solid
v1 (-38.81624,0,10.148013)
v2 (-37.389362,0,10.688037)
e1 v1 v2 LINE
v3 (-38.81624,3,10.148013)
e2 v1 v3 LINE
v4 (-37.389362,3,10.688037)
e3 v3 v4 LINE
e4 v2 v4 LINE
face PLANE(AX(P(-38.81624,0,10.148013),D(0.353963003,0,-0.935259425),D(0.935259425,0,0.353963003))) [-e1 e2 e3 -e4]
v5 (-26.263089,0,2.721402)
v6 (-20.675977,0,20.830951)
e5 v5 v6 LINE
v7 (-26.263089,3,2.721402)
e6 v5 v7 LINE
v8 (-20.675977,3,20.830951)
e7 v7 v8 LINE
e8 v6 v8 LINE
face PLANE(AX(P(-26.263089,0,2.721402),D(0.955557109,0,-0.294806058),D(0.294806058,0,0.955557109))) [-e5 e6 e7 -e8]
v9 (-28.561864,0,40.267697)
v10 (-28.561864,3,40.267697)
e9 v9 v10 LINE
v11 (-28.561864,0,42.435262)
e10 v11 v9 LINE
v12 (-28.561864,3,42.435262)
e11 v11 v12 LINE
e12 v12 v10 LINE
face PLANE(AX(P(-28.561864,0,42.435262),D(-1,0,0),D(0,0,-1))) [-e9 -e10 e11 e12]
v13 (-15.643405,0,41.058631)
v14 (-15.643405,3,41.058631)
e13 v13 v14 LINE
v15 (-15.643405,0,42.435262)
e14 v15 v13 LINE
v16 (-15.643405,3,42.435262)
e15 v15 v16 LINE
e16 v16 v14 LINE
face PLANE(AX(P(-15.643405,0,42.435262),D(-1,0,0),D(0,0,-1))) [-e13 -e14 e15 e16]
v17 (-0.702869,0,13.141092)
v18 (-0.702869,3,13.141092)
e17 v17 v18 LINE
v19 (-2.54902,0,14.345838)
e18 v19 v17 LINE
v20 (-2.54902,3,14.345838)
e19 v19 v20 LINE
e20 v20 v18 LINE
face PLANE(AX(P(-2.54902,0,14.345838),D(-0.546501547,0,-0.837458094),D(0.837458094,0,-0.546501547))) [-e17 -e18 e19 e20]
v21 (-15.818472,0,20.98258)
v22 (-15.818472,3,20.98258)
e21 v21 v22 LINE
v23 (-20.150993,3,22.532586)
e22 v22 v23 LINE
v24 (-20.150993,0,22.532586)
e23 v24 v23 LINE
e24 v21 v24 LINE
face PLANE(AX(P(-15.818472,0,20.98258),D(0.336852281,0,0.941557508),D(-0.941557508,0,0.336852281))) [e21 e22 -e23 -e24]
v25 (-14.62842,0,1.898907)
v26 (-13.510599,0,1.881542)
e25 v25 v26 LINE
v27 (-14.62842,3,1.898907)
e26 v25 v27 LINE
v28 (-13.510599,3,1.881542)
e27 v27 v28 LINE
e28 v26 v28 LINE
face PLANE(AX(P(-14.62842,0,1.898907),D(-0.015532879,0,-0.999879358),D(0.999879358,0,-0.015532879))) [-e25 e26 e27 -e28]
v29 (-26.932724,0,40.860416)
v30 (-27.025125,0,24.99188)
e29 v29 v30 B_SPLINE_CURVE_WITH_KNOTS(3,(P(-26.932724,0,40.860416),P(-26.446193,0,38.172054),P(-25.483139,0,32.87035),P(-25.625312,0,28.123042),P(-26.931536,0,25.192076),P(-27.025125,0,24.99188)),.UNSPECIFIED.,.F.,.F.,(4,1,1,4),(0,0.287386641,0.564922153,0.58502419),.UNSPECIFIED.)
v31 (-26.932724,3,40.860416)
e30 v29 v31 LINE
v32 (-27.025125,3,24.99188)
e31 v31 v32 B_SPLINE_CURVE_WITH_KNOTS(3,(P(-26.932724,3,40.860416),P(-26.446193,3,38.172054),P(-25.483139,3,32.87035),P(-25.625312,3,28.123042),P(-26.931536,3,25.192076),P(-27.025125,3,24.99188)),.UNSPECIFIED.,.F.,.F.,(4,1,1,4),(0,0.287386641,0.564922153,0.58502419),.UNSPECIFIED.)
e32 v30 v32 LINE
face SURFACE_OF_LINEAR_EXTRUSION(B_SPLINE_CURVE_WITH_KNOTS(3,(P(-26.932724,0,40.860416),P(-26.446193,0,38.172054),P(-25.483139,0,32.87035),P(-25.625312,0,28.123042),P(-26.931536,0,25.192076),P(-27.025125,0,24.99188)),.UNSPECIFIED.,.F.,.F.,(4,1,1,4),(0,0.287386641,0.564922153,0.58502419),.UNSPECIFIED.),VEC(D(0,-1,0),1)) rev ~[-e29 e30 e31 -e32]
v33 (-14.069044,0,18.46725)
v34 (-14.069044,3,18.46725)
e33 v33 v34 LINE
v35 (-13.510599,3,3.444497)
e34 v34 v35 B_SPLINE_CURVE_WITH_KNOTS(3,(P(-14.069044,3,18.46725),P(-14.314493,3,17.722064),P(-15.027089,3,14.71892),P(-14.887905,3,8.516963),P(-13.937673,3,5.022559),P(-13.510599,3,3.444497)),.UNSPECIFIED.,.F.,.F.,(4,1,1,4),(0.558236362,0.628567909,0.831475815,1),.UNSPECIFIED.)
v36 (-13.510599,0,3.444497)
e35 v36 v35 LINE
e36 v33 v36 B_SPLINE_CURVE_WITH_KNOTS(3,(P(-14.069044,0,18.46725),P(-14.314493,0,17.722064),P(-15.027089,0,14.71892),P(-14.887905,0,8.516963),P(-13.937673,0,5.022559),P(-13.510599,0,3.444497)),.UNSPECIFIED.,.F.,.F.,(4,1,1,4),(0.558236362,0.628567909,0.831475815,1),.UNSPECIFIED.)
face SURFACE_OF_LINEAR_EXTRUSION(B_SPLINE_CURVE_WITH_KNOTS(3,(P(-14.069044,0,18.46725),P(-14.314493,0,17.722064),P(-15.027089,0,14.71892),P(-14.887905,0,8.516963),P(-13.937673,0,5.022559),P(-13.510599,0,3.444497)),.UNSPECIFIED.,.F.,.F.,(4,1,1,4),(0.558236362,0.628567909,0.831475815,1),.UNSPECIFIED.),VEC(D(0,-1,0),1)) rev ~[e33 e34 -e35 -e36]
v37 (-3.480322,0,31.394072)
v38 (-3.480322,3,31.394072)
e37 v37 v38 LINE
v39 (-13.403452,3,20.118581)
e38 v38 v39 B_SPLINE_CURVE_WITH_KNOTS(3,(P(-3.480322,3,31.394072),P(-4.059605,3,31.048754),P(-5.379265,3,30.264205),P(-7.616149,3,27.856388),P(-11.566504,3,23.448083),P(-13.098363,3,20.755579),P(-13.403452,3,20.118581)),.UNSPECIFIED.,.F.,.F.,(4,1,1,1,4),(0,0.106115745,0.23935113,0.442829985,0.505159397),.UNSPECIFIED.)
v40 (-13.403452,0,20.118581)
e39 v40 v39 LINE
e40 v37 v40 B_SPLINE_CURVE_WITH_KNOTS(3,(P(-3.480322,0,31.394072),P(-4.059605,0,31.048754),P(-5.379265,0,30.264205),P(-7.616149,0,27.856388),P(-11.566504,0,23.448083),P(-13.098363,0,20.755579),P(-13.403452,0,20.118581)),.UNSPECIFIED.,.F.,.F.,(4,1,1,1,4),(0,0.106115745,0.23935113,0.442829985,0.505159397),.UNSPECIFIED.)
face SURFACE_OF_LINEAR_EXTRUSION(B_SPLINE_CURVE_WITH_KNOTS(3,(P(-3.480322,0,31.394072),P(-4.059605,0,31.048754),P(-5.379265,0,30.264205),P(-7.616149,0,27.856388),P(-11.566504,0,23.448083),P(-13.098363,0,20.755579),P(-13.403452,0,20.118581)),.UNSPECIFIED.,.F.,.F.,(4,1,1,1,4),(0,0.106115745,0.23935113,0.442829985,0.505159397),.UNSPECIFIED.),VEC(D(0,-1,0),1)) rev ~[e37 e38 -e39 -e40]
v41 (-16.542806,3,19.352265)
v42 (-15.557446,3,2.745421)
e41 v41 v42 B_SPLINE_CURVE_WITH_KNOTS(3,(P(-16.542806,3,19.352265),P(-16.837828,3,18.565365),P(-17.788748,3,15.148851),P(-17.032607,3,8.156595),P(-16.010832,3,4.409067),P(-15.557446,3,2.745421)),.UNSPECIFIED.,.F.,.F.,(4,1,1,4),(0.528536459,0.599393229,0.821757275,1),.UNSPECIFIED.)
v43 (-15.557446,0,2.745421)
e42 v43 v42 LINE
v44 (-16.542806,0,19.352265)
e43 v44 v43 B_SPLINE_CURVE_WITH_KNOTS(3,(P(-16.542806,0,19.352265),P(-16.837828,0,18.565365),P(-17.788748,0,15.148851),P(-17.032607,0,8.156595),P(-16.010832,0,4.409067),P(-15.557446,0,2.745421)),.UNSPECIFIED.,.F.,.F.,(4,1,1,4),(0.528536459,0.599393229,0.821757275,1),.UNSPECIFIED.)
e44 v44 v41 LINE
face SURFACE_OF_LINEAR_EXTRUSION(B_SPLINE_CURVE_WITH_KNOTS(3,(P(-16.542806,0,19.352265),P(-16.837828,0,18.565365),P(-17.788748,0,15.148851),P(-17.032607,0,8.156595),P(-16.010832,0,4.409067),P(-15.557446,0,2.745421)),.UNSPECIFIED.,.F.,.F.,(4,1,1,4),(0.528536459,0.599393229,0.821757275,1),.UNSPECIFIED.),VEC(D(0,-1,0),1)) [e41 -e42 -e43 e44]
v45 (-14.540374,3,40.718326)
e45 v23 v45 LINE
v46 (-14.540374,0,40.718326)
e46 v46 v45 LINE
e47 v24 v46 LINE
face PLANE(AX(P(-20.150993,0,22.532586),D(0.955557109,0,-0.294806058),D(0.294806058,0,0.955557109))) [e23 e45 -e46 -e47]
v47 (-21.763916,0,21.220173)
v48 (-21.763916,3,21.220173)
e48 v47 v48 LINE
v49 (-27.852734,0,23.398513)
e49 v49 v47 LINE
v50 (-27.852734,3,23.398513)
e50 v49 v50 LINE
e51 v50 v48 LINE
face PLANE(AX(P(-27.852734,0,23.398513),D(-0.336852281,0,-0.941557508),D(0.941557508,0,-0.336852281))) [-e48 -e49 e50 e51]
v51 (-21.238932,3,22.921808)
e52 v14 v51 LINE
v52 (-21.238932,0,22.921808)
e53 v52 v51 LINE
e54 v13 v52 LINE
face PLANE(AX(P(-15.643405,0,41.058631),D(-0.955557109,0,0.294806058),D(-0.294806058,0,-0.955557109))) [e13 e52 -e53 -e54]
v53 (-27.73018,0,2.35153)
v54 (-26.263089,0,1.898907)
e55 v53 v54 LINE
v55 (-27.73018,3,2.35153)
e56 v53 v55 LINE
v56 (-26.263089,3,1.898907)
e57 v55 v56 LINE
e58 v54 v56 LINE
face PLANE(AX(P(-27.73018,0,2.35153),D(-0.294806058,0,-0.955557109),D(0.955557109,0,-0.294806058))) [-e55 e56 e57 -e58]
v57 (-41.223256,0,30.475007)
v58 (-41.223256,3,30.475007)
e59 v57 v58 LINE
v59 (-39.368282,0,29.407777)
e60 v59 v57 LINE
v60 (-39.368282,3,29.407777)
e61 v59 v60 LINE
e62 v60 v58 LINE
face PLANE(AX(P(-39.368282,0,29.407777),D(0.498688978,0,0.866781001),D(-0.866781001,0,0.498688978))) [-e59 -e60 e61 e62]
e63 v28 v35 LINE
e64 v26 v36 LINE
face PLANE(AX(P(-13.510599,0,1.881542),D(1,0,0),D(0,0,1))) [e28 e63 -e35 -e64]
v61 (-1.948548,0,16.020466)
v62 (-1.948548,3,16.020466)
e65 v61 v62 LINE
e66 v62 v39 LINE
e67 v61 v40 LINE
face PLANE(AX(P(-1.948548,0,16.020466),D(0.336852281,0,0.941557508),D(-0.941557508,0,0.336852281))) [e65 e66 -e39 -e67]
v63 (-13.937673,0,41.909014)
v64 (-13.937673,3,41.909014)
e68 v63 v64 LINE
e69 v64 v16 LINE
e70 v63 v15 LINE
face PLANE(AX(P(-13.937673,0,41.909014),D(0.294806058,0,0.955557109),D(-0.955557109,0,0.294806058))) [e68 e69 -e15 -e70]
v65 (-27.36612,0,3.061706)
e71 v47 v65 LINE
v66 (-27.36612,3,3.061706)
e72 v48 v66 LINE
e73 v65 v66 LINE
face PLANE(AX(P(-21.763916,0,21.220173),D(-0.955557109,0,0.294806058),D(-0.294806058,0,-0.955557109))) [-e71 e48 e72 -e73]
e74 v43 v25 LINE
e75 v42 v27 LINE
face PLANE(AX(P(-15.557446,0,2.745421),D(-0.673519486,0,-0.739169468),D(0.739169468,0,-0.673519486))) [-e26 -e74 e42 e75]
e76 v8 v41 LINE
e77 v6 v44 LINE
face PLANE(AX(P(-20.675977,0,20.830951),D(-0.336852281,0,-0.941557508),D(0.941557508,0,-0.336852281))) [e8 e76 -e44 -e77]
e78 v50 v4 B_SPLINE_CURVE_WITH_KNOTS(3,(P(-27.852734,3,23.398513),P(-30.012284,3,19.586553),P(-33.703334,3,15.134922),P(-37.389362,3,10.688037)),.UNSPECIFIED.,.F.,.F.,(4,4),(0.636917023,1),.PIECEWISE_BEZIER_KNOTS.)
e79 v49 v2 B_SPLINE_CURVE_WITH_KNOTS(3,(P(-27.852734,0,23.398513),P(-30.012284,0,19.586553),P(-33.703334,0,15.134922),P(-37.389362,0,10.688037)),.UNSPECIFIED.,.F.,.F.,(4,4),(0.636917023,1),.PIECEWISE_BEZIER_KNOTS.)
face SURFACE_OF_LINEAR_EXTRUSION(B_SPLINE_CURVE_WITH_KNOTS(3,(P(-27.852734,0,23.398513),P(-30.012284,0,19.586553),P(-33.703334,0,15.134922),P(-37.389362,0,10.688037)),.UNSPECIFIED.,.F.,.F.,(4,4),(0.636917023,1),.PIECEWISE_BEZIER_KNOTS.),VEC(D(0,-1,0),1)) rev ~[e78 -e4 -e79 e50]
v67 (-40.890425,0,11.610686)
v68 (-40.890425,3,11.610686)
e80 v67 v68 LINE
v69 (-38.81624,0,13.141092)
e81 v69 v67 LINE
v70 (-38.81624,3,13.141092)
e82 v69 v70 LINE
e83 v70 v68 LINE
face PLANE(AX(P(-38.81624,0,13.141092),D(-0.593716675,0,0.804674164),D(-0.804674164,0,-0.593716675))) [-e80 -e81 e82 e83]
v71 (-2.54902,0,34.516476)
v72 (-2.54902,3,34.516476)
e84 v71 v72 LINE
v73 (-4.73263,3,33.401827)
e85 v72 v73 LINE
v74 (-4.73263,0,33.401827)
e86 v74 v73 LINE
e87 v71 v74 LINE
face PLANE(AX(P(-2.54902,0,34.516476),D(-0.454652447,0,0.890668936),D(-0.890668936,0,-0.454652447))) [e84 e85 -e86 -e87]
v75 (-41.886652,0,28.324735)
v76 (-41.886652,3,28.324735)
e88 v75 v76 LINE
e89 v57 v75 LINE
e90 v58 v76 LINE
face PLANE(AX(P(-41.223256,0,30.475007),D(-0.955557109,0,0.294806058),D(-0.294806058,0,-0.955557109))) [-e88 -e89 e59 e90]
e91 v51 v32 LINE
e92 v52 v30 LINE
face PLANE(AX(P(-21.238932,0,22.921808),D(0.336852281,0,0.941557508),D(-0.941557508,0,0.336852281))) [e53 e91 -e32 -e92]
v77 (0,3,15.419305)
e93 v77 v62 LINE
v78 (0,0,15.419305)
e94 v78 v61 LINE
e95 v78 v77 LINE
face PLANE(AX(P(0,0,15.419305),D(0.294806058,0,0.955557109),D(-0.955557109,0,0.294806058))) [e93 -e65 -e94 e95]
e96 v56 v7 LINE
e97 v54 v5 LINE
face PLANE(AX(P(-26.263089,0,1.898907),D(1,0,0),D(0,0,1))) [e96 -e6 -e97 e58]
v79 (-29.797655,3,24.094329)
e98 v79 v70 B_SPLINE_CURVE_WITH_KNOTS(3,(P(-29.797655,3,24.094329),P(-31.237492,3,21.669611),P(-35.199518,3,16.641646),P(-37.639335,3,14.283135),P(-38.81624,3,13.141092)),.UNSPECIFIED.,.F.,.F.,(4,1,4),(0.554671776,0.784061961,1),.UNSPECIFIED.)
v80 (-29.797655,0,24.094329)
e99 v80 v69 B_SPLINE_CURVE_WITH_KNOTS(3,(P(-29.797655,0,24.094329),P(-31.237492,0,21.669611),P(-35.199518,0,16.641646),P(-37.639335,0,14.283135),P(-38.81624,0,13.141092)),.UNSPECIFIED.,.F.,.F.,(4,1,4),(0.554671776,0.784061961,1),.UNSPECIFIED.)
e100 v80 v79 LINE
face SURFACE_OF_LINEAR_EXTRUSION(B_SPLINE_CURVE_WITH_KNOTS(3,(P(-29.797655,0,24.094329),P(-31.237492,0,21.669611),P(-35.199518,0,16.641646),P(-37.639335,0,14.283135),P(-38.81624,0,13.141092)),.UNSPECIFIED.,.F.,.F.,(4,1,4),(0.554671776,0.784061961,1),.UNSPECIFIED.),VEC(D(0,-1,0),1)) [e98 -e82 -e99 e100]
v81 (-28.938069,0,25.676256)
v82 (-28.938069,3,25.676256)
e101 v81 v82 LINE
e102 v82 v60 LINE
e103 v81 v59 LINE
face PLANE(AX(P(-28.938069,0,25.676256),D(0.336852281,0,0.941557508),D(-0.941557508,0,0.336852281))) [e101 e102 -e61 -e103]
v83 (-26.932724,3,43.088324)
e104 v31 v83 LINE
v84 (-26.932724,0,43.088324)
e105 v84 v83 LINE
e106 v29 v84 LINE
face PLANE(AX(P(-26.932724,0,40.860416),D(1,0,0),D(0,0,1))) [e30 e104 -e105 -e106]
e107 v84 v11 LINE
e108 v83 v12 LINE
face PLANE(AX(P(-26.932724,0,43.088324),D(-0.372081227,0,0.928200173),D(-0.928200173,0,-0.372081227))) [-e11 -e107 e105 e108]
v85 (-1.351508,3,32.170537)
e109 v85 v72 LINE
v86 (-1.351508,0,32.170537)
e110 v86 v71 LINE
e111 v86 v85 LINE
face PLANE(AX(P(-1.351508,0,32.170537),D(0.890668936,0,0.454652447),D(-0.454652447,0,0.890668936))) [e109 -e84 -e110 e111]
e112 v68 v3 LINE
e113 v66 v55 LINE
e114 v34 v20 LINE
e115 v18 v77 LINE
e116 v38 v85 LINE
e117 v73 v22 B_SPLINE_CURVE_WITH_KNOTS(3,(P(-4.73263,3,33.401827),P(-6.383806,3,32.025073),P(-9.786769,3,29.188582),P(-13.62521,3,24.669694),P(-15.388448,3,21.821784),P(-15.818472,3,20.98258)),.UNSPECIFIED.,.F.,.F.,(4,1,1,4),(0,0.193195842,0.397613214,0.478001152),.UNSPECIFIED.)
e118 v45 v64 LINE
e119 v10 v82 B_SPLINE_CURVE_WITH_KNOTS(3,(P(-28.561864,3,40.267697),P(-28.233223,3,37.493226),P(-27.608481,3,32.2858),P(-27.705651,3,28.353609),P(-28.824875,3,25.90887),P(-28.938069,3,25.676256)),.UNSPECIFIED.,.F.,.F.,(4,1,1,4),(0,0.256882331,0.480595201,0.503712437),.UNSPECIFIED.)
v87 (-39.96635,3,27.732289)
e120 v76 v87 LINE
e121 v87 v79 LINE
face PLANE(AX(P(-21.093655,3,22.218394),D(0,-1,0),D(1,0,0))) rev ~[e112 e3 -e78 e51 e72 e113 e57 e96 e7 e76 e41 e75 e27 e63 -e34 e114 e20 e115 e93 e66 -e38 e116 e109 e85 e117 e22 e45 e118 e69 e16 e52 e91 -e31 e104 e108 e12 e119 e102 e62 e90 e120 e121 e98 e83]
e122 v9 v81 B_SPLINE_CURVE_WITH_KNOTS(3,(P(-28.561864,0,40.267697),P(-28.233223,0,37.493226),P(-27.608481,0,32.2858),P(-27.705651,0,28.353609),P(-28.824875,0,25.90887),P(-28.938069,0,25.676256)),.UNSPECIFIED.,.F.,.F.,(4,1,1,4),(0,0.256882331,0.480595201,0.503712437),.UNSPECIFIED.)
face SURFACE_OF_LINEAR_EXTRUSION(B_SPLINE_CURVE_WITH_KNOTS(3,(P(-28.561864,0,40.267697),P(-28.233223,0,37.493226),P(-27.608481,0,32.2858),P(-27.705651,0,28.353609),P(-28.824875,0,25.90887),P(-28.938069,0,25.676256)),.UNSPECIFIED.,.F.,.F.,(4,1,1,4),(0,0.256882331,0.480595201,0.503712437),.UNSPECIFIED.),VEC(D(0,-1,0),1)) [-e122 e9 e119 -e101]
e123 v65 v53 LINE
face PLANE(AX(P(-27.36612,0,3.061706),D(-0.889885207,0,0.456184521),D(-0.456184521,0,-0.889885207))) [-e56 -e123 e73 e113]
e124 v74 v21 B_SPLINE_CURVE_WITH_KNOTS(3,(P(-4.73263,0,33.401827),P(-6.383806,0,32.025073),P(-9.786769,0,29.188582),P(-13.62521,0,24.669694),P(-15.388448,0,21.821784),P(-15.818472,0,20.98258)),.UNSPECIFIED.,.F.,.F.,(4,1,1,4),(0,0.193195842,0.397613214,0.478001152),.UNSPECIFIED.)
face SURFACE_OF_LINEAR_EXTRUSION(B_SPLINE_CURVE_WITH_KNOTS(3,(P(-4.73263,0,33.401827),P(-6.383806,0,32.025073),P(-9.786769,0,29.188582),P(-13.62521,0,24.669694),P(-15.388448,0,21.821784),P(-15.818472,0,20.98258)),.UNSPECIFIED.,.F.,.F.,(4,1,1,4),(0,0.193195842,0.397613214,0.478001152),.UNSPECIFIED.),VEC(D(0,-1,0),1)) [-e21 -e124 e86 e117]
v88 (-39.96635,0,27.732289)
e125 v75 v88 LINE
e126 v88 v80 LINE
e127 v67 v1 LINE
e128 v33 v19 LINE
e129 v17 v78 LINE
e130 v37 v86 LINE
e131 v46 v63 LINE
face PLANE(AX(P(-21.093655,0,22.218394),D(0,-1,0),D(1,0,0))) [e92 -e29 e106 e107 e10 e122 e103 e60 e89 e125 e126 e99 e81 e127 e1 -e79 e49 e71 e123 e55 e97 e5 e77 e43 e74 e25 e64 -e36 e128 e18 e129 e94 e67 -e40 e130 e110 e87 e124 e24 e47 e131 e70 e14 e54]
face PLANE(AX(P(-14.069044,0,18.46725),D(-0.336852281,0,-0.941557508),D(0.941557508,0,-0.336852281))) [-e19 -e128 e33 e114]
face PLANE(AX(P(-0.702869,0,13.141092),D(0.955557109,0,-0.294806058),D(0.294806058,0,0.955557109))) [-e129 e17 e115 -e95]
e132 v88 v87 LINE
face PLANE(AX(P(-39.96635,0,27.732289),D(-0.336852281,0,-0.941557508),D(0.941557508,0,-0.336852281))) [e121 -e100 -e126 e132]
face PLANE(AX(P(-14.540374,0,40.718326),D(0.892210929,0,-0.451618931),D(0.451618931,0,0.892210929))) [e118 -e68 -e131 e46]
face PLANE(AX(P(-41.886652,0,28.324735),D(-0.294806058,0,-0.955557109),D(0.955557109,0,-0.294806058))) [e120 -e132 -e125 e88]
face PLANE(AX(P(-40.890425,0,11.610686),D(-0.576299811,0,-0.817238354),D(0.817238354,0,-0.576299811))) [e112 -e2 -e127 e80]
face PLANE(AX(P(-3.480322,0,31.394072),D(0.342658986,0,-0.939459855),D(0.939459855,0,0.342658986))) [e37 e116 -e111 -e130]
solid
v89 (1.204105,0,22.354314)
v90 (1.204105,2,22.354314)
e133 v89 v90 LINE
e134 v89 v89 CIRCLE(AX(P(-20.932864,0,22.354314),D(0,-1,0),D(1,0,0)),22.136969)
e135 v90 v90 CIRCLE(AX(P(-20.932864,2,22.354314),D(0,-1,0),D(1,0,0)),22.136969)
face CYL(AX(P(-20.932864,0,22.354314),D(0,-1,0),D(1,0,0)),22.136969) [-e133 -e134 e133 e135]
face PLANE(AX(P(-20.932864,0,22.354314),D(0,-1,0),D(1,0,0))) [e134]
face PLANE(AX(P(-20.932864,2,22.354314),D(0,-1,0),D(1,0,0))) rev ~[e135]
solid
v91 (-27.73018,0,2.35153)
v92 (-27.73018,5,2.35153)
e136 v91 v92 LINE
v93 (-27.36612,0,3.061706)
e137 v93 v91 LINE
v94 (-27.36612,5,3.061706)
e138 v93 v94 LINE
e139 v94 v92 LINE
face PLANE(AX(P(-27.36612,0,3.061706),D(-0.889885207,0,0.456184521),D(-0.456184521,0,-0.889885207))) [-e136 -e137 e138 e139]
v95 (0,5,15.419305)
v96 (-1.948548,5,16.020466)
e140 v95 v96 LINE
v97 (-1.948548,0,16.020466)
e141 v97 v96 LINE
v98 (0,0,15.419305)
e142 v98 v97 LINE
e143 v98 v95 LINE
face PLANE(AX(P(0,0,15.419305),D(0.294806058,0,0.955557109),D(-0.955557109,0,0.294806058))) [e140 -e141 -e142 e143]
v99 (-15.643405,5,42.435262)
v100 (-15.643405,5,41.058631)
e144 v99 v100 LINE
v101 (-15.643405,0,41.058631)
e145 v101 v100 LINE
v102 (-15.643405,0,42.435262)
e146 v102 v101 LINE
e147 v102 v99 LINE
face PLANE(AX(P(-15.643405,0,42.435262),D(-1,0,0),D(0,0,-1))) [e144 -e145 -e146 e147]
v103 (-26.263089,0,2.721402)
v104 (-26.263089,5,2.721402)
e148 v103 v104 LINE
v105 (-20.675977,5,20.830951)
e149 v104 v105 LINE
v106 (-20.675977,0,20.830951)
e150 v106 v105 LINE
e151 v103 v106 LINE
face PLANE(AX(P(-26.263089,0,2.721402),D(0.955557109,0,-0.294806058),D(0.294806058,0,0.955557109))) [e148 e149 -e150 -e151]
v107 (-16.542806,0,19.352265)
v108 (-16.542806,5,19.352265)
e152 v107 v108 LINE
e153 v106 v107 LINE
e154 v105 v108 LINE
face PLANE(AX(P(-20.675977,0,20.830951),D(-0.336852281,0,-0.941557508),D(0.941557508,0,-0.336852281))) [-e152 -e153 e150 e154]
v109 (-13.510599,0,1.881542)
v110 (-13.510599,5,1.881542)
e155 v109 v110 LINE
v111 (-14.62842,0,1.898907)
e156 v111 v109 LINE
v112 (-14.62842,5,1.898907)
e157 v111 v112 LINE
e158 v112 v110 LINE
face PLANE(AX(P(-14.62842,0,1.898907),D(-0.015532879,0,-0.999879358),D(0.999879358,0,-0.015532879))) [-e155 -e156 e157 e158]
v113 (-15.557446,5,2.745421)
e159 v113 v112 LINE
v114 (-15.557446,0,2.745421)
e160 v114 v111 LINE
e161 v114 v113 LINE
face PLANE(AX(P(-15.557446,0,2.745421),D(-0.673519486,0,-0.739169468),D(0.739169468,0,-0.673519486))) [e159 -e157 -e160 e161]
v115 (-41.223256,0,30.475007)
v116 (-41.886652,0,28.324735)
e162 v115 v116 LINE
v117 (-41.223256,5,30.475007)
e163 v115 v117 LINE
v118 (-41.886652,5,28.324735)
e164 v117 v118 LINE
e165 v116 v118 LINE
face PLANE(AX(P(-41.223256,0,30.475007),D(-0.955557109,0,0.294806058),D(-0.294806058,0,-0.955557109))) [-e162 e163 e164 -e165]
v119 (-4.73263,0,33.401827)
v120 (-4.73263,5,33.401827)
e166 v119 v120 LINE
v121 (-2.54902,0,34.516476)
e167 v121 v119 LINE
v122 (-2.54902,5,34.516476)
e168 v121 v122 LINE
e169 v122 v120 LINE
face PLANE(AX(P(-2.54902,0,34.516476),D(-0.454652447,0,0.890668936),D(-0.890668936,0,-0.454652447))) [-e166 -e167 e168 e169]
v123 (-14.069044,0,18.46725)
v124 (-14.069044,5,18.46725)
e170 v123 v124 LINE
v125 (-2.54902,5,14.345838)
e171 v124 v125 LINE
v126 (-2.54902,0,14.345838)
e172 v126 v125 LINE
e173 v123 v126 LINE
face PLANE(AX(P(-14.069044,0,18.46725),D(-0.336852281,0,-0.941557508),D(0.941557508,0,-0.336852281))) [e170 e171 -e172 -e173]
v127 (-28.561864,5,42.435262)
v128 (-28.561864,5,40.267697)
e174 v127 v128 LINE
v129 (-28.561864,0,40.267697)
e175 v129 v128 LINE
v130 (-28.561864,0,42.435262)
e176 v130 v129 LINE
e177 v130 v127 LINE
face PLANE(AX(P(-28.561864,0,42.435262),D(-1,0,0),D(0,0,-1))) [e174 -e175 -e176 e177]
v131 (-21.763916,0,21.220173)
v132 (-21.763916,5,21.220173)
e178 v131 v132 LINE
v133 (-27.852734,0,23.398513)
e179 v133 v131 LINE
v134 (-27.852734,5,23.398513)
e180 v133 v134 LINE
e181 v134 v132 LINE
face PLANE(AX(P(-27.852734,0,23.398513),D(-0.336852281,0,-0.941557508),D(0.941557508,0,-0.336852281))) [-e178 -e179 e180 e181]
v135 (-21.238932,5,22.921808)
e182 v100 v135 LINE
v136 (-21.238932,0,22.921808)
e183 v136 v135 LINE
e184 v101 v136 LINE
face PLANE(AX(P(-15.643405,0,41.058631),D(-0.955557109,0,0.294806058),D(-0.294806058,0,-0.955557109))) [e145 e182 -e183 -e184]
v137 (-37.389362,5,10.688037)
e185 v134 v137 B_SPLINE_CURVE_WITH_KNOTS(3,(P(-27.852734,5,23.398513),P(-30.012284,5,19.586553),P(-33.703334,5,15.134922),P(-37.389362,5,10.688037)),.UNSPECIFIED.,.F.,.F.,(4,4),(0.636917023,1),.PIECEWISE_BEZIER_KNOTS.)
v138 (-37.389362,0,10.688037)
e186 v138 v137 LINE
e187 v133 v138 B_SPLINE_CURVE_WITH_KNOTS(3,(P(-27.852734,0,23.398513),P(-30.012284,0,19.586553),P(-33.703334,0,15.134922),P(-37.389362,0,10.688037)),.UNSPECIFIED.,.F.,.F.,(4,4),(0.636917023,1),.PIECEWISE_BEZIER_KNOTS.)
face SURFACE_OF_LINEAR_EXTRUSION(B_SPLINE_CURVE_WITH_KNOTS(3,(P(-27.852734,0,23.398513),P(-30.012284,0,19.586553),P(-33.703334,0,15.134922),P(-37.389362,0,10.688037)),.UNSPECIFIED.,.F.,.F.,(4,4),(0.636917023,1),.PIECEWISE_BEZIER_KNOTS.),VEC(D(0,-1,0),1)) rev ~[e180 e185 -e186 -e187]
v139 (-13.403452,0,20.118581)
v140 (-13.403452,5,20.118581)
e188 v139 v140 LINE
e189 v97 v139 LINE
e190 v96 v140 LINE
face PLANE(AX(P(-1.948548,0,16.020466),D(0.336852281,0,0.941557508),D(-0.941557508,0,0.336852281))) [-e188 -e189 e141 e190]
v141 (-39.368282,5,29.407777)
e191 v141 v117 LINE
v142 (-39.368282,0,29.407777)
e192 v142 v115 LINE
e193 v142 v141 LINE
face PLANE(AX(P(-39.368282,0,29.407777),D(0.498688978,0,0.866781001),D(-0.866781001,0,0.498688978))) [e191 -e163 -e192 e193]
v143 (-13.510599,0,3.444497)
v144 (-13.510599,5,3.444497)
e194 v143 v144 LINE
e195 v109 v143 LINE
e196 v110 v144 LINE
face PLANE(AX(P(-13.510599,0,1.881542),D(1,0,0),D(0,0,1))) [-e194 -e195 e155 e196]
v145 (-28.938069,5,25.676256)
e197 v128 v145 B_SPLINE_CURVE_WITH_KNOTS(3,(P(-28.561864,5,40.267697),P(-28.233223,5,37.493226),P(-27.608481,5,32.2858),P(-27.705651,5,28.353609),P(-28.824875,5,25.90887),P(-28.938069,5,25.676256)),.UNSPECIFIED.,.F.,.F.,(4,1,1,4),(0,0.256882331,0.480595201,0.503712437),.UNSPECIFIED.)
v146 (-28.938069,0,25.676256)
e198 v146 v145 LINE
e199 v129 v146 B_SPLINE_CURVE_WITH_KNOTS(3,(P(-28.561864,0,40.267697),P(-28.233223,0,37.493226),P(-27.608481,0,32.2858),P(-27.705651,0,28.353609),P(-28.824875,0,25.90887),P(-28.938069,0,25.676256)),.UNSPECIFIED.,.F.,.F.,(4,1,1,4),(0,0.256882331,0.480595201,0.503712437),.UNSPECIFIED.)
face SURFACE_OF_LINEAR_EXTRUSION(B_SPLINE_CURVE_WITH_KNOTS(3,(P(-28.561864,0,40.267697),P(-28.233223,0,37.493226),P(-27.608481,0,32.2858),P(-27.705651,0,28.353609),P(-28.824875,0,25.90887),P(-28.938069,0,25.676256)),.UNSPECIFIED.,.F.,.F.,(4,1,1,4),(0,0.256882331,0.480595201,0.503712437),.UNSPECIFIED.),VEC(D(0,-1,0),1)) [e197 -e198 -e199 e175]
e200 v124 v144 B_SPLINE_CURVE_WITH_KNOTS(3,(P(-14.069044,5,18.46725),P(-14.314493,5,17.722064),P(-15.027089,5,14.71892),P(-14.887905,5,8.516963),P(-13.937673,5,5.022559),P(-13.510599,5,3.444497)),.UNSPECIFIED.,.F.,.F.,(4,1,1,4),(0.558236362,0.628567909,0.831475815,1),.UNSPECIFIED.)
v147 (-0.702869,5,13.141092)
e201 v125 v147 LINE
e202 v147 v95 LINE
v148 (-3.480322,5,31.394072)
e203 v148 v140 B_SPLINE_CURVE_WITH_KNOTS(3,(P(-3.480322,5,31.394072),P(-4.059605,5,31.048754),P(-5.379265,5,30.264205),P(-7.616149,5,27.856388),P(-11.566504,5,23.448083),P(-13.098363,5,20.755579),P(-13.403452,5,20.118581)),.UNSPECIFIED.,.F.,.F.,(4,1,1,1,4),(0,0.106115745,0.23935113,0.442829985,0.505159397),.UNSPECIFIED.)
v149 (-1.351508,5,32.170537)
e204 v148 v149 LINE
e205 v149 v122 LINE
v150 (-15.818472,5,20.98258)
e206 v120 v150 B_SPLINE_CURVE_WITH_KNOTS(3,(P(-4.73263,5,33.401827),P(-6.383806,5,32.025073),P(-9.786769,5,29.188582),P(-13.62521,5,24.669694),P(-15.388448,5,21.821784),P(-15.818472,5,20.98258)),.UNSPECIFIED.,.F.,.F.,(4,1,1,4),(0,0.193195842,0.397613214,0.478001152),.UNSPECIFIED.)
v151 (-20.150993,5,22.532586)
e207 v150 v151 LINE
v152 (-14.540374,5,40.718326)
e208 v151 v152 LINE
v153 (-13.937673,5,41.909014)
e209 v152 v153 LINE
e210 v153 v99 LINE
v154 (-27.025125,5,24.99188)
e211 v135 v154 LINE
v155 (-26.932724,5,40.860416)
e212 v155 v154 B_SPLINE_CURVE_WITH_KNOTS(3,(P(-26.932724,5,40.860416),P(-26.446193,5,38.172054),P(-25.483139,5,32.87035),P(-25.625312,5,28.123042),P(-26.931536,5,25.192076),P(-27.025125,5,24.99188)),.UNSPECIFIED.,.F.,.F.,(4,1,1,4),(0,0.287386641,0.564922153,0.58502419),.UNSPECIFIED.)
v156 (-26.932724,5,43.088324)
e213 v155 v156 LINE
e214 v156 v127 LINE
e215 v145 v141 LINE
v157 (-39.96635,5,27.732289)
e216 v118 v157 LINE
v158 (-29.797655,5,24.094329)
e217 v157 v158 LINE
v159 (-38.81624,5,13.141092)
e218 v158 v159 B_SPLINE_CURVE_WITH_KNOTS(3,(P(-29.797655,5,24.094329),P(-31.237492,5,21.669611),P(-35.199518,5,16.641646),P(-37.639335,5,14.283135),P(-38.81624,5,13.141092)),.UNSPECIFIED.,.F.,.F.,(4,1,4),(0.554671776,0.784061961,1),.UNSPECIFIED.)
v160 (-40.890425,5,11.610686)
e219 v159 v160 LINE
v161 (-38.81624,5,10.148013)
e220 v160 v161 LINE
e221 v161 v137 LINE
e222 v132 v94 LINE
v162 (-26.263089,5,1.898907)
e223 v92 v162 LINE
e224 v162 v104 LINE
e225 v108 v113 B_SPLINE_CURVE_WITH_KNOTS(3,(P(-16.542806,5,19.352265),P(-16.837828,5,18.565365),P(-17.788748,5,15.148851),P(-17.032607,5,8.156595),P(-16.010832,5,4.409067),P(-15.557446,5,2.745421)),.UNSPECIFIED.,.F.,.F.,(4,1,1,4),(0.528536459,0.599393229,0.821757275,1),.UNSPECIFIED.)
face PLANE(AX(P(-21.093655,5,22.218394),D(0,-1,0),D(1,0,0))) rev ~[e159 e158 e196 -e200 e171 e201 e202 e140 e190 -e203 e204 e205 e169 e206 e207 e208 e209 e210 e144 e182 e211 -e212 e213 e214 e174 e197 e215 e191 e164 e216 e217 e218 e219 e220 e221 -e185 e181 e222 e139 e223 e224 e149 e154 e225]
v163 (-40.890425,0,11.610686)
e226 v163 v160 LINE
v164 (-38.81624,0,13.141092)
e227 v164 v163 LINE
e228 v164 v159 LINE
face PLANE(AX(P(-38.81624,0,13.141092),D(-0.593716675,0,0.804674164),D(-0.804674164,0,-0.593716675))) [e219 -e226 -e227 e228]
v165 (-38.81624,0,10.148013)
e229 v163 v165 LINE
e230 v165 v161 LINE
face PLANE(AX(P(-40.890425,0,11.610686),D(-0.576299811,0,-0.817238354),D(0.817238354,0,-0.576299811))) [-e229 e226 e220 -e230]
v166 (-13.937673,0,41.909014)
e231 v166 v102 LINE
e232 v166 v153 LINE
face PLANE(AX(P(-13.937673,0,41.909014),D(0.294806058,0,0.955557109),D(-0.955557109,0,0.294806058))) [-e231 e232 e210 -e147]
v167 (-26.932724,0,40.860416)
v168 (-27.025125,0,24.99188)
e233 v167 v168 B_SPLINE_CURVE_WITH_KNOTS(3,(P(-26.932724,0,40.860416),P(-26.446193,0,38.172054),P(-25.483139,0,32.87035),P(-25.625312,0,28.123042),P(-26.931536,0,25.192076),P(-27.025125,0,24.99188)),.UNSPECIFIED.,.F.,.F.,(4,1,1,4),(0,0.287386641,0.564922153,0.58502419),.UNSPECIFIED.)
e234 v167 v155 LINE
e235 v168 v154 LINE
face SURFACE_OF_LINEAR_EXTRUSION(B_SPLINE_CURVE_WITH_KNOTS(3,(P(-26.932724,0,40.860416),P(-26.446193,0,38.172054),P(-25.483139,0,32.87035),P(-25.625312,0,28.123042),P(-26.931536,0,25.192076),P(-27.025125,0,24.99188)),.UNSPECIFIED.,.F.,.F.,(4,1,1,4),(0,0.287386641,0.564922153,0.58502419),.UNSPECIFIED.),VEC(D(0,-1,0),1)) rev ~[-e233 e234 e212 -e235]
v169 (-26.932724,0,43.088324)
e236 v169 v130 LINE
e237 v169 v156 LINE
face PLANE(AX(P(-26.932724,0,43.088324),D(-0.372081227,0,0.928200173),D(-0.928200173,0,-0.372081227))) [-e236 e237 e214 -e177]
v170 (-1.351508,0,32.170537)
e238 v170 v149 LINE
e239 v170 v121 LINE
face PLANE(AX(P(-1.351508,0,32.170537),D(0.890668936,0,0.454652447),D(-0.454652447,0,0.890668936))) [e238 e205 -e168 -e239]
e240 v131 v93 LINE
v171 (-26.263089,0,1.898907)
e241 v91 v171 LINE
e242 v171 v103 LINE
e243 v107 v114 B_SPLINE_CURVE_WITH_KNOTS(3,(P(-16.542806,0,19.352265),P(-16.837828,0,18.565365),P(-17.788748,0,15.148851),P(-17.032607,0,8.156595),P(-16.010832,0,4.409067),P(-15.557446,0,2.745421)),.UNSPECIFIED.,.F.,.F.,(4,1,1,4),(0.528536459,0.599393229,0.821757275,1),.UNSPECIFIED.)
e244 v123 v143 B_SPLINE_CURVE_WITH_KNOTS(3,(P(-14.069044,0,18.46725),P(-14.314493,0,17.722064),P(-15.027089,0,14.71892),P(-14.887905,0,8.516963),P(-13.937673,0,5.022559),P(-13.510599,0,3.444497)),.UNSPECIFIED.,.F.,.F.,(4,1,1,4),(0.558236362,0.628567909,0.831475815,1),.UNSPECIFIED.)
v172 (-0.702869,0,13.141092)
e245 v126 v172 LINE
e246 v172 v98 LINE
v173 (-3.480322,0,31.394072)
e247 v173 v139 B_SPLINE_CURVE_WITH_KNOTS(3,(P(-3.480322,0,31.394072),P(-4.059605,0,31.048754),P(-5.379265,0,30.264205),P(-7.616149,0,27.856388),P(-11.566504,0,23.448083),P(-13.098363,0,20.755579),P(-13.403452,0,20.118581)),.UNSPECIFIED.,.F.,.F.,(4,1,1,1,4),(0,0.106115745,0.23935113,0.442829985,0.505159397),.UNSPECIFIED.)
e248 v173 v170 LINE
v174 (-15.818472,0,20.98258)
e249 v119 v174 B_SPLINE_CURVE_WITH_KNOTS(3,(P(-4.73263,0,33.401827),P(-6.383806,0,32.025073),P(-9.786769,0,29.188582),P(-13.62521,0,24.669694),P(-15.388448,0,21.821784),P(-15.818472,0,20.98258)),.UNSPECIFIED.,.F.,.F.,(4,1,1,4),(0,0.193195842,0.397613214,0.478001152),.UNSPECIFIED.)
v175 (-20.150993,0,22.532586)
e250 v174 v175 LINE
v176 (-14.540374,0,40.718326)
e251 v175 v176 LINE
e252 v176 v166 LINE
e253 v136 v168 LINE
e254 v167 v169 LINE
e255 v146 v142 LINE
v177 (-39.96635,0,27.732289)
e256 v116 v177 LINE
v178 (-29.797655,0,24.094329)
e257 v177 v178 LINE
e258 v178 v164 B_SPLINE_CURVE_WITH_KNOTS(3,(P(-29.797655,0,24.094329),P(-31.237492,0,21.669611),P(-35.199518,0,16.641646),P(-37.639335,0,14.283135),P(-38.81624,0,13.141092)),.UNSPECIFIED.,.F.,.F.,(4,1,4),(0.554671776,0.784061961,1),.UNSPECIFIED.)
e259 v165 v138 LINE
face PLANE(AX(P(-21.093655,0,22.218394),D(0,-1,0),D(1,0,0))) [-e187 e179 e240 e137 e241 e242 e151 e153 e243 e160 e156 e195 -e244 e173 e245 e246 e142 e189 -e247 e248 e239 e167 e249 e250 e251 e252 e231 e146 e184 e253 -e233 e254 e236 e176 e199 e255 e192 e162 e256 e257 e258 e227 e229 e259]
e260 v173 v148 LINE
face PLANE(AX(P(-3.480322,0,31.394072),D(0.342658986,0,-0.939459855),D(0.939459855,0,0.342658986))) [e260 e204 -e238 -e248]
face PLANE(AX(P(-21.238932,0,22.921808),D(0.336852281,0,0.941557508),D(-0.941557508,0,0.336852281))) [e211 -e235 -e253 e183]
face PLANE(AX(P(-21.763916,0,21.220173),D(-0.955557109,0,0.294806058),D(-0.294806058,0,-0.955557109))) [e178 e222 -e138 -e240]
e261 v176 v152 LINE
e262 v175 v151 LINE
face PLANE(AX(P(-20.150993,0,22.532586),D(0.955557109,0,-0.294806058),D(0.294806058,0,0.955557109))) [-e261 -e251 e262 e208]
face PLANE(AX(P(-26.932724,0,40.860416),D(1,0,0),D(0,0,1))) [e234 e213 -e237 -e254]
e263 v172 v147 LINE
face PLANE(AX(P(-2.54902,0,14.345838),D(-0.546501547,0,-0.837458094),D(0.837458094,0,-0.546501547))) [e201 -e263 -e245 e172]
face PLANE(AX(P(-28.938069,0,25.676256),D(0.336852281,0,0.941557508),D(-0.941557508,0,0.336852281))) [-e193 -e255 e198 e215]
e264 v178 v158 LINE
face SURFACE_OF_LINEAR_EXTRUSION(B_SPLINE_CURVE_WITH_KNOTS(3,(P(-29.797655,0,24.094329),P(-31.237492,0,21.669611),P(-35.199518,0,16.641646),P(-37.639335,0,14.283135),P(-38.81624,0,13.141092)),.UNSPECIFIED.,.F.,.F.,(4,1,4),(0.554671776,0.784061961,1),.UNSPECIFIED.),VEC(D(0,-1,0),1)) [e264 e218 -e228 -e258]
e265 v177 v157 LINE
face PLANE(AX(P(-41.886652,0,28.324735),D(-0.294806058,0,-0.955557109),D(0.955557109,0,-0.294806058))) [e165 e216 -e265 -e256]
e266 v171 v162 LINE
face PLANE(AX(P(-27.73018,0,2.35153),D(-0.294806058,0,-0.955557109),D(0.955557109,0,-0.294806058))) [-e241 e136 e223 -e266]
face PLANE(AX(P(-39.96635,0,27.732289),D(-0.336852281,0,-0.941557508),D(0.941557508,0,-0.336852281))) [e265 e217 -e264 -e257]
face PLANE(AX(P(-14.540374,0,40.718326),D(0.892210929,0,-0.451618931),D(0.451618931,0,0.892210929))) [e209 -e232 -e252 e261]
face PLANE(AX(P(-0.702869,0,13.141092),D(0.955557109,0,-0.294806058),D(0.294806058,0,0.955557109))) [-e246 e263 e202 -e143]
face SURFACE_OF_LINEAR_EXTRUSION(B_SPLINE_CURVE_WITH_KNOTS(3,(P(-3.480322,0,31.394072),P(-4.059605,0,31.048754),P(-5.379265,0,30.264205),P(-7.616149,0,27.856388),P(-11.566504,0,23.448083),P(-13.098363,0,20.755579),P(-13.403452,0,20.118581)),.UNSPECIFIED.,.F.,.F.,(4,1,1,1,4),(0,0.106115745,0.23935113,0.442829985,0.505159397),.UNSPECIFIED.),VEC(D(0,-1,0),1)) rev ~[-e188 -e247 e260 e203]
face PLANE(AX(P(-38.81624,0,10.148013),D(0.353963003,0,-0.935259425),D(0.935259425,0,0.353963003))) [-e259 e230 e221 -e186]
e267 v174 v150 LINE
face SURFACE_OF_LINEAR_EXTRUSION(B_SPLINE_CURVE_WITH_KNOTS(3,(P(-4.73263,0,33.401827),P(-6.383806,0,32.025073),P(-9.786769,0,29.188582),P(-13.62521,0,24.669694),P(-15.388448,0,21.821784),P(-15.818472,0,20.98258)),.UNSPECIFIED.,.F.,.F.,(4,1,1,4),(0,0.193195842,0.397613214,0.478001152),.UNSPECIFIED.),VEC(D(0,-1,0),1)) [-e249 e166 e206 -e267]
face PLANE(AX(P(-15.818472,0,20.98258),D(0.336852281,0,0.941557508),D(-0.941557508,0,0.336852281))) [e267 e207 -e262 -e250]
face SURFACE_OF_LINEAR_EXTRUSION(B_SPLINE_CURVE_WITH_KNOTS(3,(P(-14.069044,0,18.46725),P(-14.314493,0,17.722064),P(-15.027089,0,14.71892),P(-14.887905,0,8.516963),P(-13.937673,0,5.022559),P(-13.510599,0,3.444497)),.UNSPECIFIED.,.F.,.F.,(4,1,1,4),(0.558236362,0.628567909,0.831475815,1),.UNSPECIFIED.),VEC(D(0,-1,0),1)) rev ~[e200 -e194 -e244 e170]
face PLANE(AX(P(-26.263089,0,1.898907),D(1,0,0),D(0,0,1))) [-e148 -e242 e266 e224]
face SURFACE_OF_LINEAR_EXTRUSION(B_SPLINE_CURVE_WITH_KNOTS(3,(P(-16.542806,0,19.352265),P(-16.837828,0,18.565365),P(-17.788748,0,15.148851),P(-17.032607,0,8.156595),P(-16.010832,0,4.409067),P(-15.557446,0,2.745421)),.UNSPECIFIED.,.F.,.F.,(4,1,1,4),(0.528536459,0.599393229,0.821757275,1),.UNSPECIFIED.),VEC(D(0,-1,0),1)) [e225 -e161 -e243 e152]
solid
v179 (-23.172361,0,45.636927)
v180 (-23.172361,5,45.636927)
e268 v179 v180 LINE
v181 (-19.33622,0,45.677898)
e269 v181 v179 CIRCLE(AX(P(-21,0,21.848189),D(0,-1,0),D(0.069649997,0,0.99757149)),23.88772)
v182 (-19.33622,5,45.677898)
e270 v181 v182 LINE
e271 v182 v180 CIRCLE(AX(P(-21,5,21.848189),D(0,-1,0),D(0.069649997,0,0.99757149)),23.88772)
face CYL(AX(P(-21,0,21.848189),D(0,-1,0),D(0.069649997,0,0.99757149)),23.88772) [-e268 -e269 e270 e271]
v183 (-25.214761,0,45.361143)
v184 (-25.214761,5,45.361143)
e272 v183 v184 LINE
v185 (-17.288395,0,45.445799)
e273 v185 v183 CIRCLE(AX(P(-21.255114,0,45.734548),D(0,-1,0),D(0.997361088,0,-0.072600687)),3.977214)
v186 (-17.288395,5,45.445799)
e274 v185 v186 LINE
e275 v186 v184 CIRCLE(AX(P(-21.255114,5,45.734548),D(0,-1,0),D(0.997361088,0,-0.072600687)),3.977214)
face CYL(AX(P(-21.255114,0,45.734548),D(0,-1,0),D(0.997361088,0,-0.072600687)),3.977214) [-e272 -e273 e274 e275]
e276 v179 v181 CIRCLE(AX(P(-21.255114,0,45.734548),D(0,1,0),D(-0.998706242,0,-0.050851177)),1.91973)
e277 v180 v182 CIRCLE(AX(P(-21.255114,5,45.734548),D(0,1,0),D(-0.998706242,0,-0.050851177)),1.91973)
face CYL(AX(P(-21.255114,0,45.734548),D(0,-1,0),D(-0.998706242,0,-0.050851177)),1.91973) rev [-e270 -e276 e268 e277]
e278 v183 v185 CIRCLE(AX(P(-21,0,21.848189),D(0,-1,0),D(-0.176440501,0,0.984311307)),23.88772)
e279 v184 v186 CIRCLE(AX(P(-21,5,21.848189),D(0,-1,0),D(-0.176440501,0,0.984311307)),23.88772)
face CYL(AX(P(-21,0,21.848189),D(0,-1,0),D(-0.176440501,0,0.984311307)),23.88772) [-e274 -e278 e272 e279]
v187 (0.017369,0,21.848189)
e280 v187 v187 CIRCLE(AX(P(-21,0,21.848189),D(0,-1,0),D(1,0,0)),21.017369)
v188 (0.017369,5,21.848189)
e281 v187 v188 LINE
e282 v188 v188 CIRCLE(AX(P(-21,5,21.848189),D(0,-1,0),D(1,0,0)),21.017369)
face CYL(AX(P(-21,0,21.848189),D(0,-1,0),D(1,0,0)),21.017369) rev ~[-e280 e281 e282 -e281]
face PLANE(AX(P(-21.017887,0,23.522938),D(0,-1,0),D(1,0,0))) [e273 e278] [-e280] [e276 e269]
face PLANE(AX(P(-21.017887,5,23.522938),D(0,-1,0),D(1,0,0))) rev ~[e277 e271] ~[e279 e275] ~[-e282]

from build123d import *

# Parameters (mm, degrees)
F0_R     = 21.0173694248
F2_DEPTH = 5
F3_DEPTH = 3
F4_R     = 22.1369694457
F5_DEPTH = 2


with BuildPart() as f2:
    # F0 (on Front) → F2 (new body)
    with BuildSketch(Plane.XZ):
        with BuildLine():
            ThreePointArc((-25.2147613693, 45.3611427927), (-20.7448855599, -2.0381687537), (-17.2883954881, 45.4457990798))
            ThreePointArc((-17.2883954881, 45.4457990798), (-21.2975900226, 49.7115352336), (-25.2147613693, 45.3611427927))
        make_face()
        with Locations((-21, 21.848189415)):
            Circle(F0_R, mode=Mode.SUBTRACT)
        with BuildLine():
            ThreePointArc((-23.1723608778, 45.6369270477), (-21.2756166421, 47.6541682056), (-19.3362203485, 45.677898335))
            ThreePointArc((-19.3362203485, 45.677898335), (-21.2551144401, 45.7345475837), (-23.1723608778, 45.6369270477))
        make_face(mode=Mode.SUBTRACT)
    extrude(amount=-F2_DEPTH)


with BuildPart() as f2b:
    # F1 (on face) → F2, piece 2 (new body)
    with BuildSketch(Plane.XZ):
        with BuildLine():
            Line((-15.6434053378, 42.4352623522), (-15.6434053378, 41.0586307483))
            Line((-15.6434053378, 41.0586307483), (-21.2389320528, 22.9218076049))
            Line((-21.2389320528, 22.9218076049), (-27.0251246129, 24.9918799515))
            add(Edge.make_bspline(
                [(-27.0251246129, 24.9918799515), (-27.2667200019, 24.4750783506), (-27.5440850694, 23.9433288862), (-27.8527339783, 23.398512914)],
                knots=[0.5850241897, 0.5850241897, 0.5850241897, 0.5850241897, 0.6369170232, 0.6369170232, 0.6369170232, 0.6369170232], degree=3))
            Line((-27.8527339783, 23.398512914), (-21.7639160209, 21.220173091))
            Line((-21.7639160209, 21.220173091), (-27.3661202396, 3.0617061044))
            Line((-27.3661202396, 3.0617061044), (-27.7301800651, 2.3515297653))
            Line((-27.7301800651, 2.3515297653), (-26.2630893095, 1.8989066432))
            Line((-26.2630893095, 1.8989066432), (-26.2630893095, 2.7214017971))
            Line((-26.2630893095, 2.7214017971), (-20.675977002, 20.8309512574))
            Line((-20.675977002, 20.8309512574), (-16.5428058438, 19.3522650178))
            add(Edge.make_bspline(
                [(-15.8184717487, 20.9825798891), (-16.0888028731, 20.4550204602), (-16.3323949207, 19.9134852447), (-16.5428058438, 19.3522650178)],
                knots=[0.4780011516, 0.4780011516, 0.4780011516, 0.4780011516, 0.5285364589, 0.5285364589, 0.5285364589, 0.5285364589], degree=3))
            Line((-15.8184717487, 20.9825798891), (-20.150993034, 22.5325857713))
            Line((-20.150993034, 22.5325857713), (-14.5403744077, 40.7183264409))
            Line((-14.5403744077, 40.7183264409), (-13.9376726897, 41.9090140382))
            Line((-13.9376726897, 41.9090140382), (-15.6434053378, 42.4352623522))
        make_face()
        with BuildLine():
            add(Edge.make_bspline(
                [(-27.0251246129, 24.9918799515), (-27.2667200019, 24.4750783506), (-27.5440850694, 23.9433288862), (-27.8527339783, 23.398512914)],
                knots=[0.5850241897, 0.5850241897, 0.5850241897, 0.5850241897, 0.6369170232, 0.6369170232, 0.6369170232, 0.6369170232], degree=3))
            add(Edge.make_bspline(
                [(-26.9327240246, 40.8604158787), (-26.4461932855, 38.1720542595), (-25.4831391669, 32.8703496623), (-25.6253116841, 28.1230420347), (-26.9315363662, 25.1920764699), (-27.0251246129, 24.9918799515)],
                knots=[0, 0, 0, 0, 0.2873866411, 0.5649221532, 0.5850241897, 0.5850241897, 0.5850241897, 0.5850241897], degree=3))
            Line((-26.9327240246, 40.8604158787), (-26.9327240246, 43.088324368))
            Line((-26.9327240246, 43.088324368), (-28.561863665, 42.4352623522))
            Line((-28.561863665, 42.4352623522), (-28.561863665, 40.267697307))
            add(Edge.make_bspline(
                [(-28.561863665, 40.267697307), (-28.2332233479, 37.4932257691), (-27.6084806879, 32.2857996771), (-27.7056505928, 28.3536086922), (-28.8248751971, 25.9088704148), (-28.93806897, 25.676256279)],
                knots=[0, 0, 0, 0, 0.2568823312, 0.4805952008, 0.5037124373, 0.5037124373, 0.5037124373, 0.5037124373], degree=3))
            add(Edge.make_bspline(
                [(-28.93806897, 25.676256279), (-29.1875918662, 25.1634846718), (-29.4777928646, 24.6329834512), (-29.7976547361, 24.0943291412)],
                knots=[0.5037124373, 0.5037124373, 0.5037124373, 0.5037124373, 0.5546717761, 0.5546717761, 0.5546717761, 0.5546717761], degree=3))
            add(Edge.make_bspline(
                [(-29.7976547361, 24.0943291412), (-31.2374923714, 21.6696114203), (-35.1995176822, 16.6416461958), (-37.6393346001, 14.2831347624), (-38.816240489, 13.1410918814)],
                knots=[0.5546717761, 0.5546717761, 0.5546717761, 0.5546717761, 0.7840619611, 1, 1, 1, 1], degree=3))
            Line((-38.816240489, 13.1410918814), (-40.8904254436, 11.6106858477))
            Line((-40.8904254436, 11.6106858477), (-38.816240489, 10.1480129416))
            Line((-38.816240489, 10.1480129416), (-37.3893617116, 10.6880366863))
            add(Edge.make_bspline(
                [(-27.8527339783, 23.398512914), (-30.0122838985, 19.5865529315), (-33.7033340895, 15.1349221345), (-37.3893617116, 10.6880366863)],
                knots=[0.6369170232, 0.6369170232, 0.6369170232, 0.6369170232, 1, 1, 1, 1], degree=3))
        make_face()
        with BuildLine():
            add(Edge.make_bspline(
                [(-4.7326299883, 33.4018265599), (-6.3838063491, 32.0250727471), (-9.7867688662, 29.1885817162), (-13.6252095004, 24.6696939229), (-15.3884484127, 21.8217835363), (-15.8184717487, 20.9825798891)],
                knots=[0, 0, 0, 0, 0.1931958421, 0.3976132144, 0.4780011516, 0.4780011516, 0.4780011516, 0.4780011516], degree=3))
            add(Edge.make_bspline(
                [(-15.8184717487, 20.9825798891), (-16.0888028731, 20.4550204602), (-16.3323949207, 19.9134852447), (-16.5428058438, 19.3522650178)],
                knots=[0.4780011516, 0.4780011516, 0.4780011516, 0.4780011516, 0.5285364589, 0.5285364589, 0.5285364589, 0.5285364589], degree=3))
            add(Edge.make_bspline(
                [(-16.5428058438, 19.3522650178), (-16.8378280623, 18.5653646327), (-17.7887482068, 15.1488505296), (-17.0326071228, 8.1565953069), (-16.0108322366, 4.4090669931), (-15.5574461885, 2.745420875)],
                knots=[0.5285364589, 0.5285364589, 0.5285364589, 0.5285364589, 0.5993932294, 0.8217572748, 1, 1, 1, 1], degree=3))
            Line((-15.5574461885, 2.745420875), (-14.6284196526, 1.8989066432))
            Line((-14.6284196526, 1.8989066432), (-13.510598544, 1.8815415679))
            Line((-13.510598544, 1.8815415679), (-13.510598544, 3.4444969801))
            add(Edge.make_bspline(
                [(-14.069044194, 18.4672502987), (-14.3144930834, 17.7220644749), (-15.0270887125, 14.7189198371), (-14.8879048078, 8.5169626468), (-13.9376726897, 5.0225594813), (-13.510598544, 3.4444969801)],
                knots=[0.5582363622, 0.5582363622, 0.5582363622, 0.5582363622, 0.6285679089, 0.8314758152, 1, 1, 1, 1], degree=3))
            add(Edge.make_bspline(
                [(-13.4034524292, 20.1185808677), (-13.6632532189, 19.5761416352), (-13.8838117808, 19.029618166), (-14.069044194, 18.4672502987)],
                knots=[0.5051593971, 0.5051593971, 0.5051593971, 0.5051593971, 0.5582363622, 0.5582363622, 0.5582363622, 0.5582363622], degree=3))
            add(Edge.make_bspline(
                [(-3.4803220268, 31.3940724804), (-4.0596052372, 31.048753856), (-5.3792648724, 30.2642054545), (-7.6161489545, 27.8563879413), (-11.5665036402, 23.4480832146), (-13.0983628201, 20.7555788294), (-13.4034524292, 20.1185808677)],
                knots=[0, 0, 0, 0, 0.1061157447, 0.2393511298, 0.4428299848, 0.5051593971, 0.5051593971, 0.5051593971, 0.5051593971], degree=3))
            Line((-3.4803220268, 31.3940724804), (-1.3515079001, 32.1705370468))
            Line((-1.3515079001, 32.1705370468), (-2.5490200479, 34.5164759679))
            Line((-2.5490200479, 34.5164759679), (-4.7326299883, 33.4018265599))
        make_face()
        with BuildLine():
            add(Edge.make_bspline(
                [(-28.93806897, 25.676256279), (-29.1875918662, 25.1634846718), (-29.4777928646, 24.6329834512), (-29.7976547361, 24.0943291412)],
                knots=[0.5037124373, 0.5037124373, 0.5037124373, 0.5037124373, 0.5546717761, 0.5546717761, 0.5546717761, 0.5546717761], degree=3))
            Line((-28.93806897, 25.676256279), (-39.3682815074, 29.4077765003))
            Line((-39.3682815074, 29.4077765003), (-41.2232555875, 30.4750070098))
            Line((-41.2232555875, 30.4750070098), (-41.886651929, 28.3247354211))
            Line((-41.886651929, 28.3247354211), (-39.9663495654, 27.7322886022))
            Line((-39.9663495654, 27.7322886022), (-29.7976547361, 24.0943291412))
        make_face()
        with BuildLine():
            Line((-1.948548289, 16.0204662531), (-13.4034524292, 20.1185808677))
            add(Edge.make_bspline(
                [(-13.4034524292, 20.1185808677), (-13.6632532189, 19.5761416352), (-13.8838117808, 19.029618166), (-14.069044194, 18.4672502987)],
                knots=[0.5051593971, 0.5051593971, 0.5051593971, 0.5051593971, 0.5582363622, 0.5582363622, 0.5582363622, 0.5582363622], degree=3))
            Line((-14.069044194, 18.4672502987), (-2.5490200479, 14.3458383047))
            Line((-2.5490200479, 14.3458383047), (-0.7028685605, 13.1410918814))
            Line((-0.7028685605, 13.1410918814), (0, 15.4193050729))
            Line((0, 15.4193050729), (-1.948548289, 16.0204662531))
        make_face()
    extrude(amount=-F2_DEPTH)


with BuildPart() as f3:
    # F1 (on face) → F3 (new body)
    with BuildSketch(Plane.XZ):
        with BuildLine():
            Line((-15.6434053378, 42.4352623522), (-15.6434053378, 41.0586307483))
            Line((-15.6434053378, 41.0586307483), (-21.2389320528, 22.9218076049))
            Line((-21.2389320528, 22.9218076049), (-27.0251246129, 24.9918799515))
            add(Edge.make_bspline(
                [(-27.0251246129, 24.9918799515), (-27.2667200019, 24.4750783506), (-27.5440850694, 23.9433288862), (-27.8527339783, 23.398512914)],
                knots=[0.5850241897, 0.5850241897, 0.5850241897, 0.5850241897, 0.6369170232, 0.6369170232, 0.6369170232, 0.6369170232], degree=3))
            Line((-27.8527339783, 23.398512914), (-21.7639160209, 21.220173091))
            Line((-21.7639160209, 21.220173091), (-27.3661202396, 3.0617061044))
            Line((-27.3661202396, 3.0617061044), (-27.7301800651, 2.3515297653))
            Line((-27.7301800651, 2.3515297653), (-26.2630893095, 1.8989066432))
            Line((-26.2630893095, 1.8989066432), (-26.2630893095, 2.7214017971))
            Line((-26.2630893095, 2.7214017971), (-20.675977002, 20.8309512574))
            Line((-20.675977002, 20.8309512574), (-16.5428058438, 19.3522650178))
            add(Edge.make_bspline(
                [(-15.8184717487, 20.9825798891), (-16.0888028731, 20.4550204602), (-16.3323949207, 19.9134852447), (-16.5428058438, 19.3522650178)],
                knots=[0.4780011516, 0.4780011516, 0.4780011516, 0.4780011516, 0.5285364589, 0.5285364589, 0.5285364589, 0.5285364589], degree=3))
            Line((-15.8184717487, 20.9825798891), (-20.150993034, 22.5325857713))
            Line((-20.150993034, 22.5325857713), (-14.5403744077, 40.7183264409))
            Line((-14.5403744077, 40.7183264409), (-13.9376726897, 41.9090140382))
            Line((-13.9376726897, 41.9090140382), (-15.6434053378, 42.4352623522))
        make_face()
        with BuildLine():
            add(Edge.make_bspline(
                [(-27.0251246129, 24.9918799515), (-27.2667200019, 24.4750783506), (-27.5440850694, 23.9433288862), (-27.8527339783, 23.398512914)],
                knots=[0.5850241897, 0.5850241897, 0.5850241897, 0.5850241897, 0.6369170232, 0.6369170232, 0.6369170232, 0.6369170232], degree=3))
            add(Edge.make_bspline(
                [(-26.9327240246, 40.8604158787), (-26.4461932855, 38.1720542595), (-25.4831391669, 32.8703496623), (-25.6253116841, 28.1230420347), (-26.9315363662, 25.1920764699), (-27.0251246129, 24.9918799515)],
                knots=[0, 0, 0, 0, 0.2873866411, 0.5649221532, 0.5850241897, 0.5850241897, 0.5850241897, 0.5850241897], degree=3))
            Line((-26.9327240246, 40.8604158787), (-26.9327240246, 43.088324368))
            Line((-26.9327240246, 43.088324368), (-28.561863665, 42.4352623522))
            Line((-28.561863665, 42.4352623522), (-28.561863665, 40.267697307))
            add(Edge.make_bspline(
                [(-28.561863665, 40.267697307), (-28.2332233479, 37.4932257691), (-27.6084806879, 32.2857996771), (-27.7056505928, 28.3536086922), (-28.8248751971, 25.9088704148), (-28.93806897, 25.676256279)],
                knots=[0, 0, 0, 0, 0.2568823312, 0.4805952008, 0.5037124373, 0.5037124373, 0.5037124373, 0.5037124373], degree=3))
            add(Edge.make_bspline(
                [(-28.93806897, 25.676256279), (-29.1875918662, 25.1634846718), (-29.4777928646, 24.6329834512), (-29.7976547361, 24.0943291412)],
                knots=[0.5037124373, 0.5037124373, 0.5037124373, 0.5037124373, 0.5546717761, 0.5546717761, 0.5546717761, 0.5546717761], degree=3))
            add(Edge.make_bspline(
                [(-29.7976547361, 24.0943291412), (-31.2374923714, 21.6696114203), (-35.1995176822, 16.6416461958), (-37.6393346001, 14.2831347624), (-38.816240489, 13.1410918814)],
                knots=[0.5546717761, 0.5546717761, 0.5546717761, 0.5546717761, 0.7840619611, 1, 1, 1, 1], degree=3))
            Line((-38.816240489, 13.1410918814), (-40.8904254436, 11.6106858477))
            Line((-40.8904254436, 11.6106858477), (-38.816240489, 10.1480129416))
            Line((-38.816240489, 10.1480129416), (-37.3893617116, 10.6880366863))
            add(Edge.make_bspline(
                [(-27.8527339783, 23.398512914), (-30.0122838985, 19.5865529315), (-33.7033340895, 15.1349221345), (-37.3893617116, 10.6880366863)],
                knots=[0.6369170232, 0.6369170232, 0.6369170232, 0.6369170232, 1, 1, 1, 1], degree=3))
        make_face()
        with BuildLine():
            add(Edge.make_bspline(
                [(-4.7326299883, 33.4018265599), (-6.3838063491, 32.0250727471), (-9.7867688662, 29.1885817162), (-13.6252095004, 24.6696939229), (-15.3884484127, 21.8217835363), (-15.8184717487, 20.9825798891)],
                knots=[0, 0, 0, 0, 0.1931958421, 0.3976132144, 0.4780011516, 0.4780011516, 0.4780011516, 0.4780011516], degree=3))
            add(Edge.make_bspline(
                [(-15.8184717487, 20.9825798891), (-16.0888028731, 20.4550204602), (-16.3323949207, 19.9134852447), (-16.5428058438, 19.3522650178)],
                knots=[0.4780011516, 0.4780011516, 0.4780011516, 0.4780011516, 0.5285364589, 0.5285364589, 0.5285364589, 0.5285364589], degree=3))
            add(Edge.make_bspline(
                [(-16.5428058438, 19.3522650178), (-16.8378280623, 18.5653646327), (-17.7887482068, 15.1488505296), (-17.0326071228, 8.1565953069), (-16.0108322366, 4.4090669931), (-15.5574461885, 2.745420875)],
                knots=[0.5285364589, 0.5285364589, 0.5285364589, 0.5285364589, 0.5993932294, 0.8217572748, 1, 1, 1, 1], degree=3))
            Line((-15.5574461885, 2.745420875), (-14.6284196526, 1.8989066432))
            Line((-14.6284196526, 1.8989066432), (-13.510598544, 1.8815415679))
            Line((-13.510598544, 1.8815415679), (-13.510598544, 3.4444969801))
            add(Edge.make_bspline(
                [(-14.069044194, 18.4672502987), (-14.3144930834, 17.7220644749), (-15.0270887125, 14.7189198371), (-14.8879048078, 8.5169626468), (-13.9376726897, 5.0225594813), (-13.510598544, 3.4444969801)],
                knots=[0.5582363622, 0.5582363622, 0.5582363622, 0.5582363622, 0.6285679089, 0.8314758152, 1, 1, 1, 1], degree=3))
            add(Edge.make_bspline(
                [(-13.4034524292, 20.1185808677), (-13.6632532189, 19.5761416352), (-13.8838117808, 19.029618166), (-14.069044194, 18.4672502987)],
                knots=[0.5051593971, 0.5051593971, 0.5051593971, 0.5051593971, 0.5582363622, 0.5582363622, 0.5582363622, 0.5582363622], degree=3))
            add(Edge.make_bspline(
                [(-3.4803220268, 31.3940724804), (-4.0596052372, 31.048753856), (-5.3792648724, 30.2642054545), (-7.6161489545, 27.8563879413), (-11.5665036402, 23.4480832146), (-13.0983628201, 20.7555788294), (-13.4034524292, 20.1185808677)],
                knots=[0, 0, 0, 0, 0.1061157447, 0.2393511298, 0.4428299848, 0.5051593971, 0.5051593971, 0.5051593971, 0.5051593971], degree=3))
            Line((-3.4803220268, 31.3940724804), (-1.3515079001, 32.1705370468))
            Line((-1.3515079001, 32.1705370468), (-2.5490200479, 34.5164759679))
            Line((-2.5490200479, 34.5164759679), (-4.7326299883, 33.4018265599))
        make_face()
        with BuildLine():
            add(Edge.make_bspline(
                [(-28.93806897, 25.676256279), (-29.1875918662, 25.1634846718), (-29.4777928646, 24.6329834512), (-29.7976547361, 24.0943291412)],
                knots=[0.5037124373, 0.5037124373, 0.5037124373, 0.5037124373, 0.5546717761, 0.5546717761, 0.5546717761, 0.5546717761], degree=3))
            Line((-28.93806897, 25.676256279), (-39.3682815074, 29.4077765003))
            Line((-39.3682815074, 29.4077765003), (-41.2232555875, 30.4750070098))
            Line((-41.2232555875, 30.4750070098), (-41.886651929, 28.3247354211))
            Line((-41.886651929, 28.3247354211), (-39.9663495654, 27.7322886022))
            Line((-39.9663495654, 27.7322886022), (-29.7976547361, 24.0943291412))
        make_face()
        with BuildLine():
            Line((-1.948548289, 16.0204662531), (-13.4034524292, 20.1185808677))
            add(Edge.make_bspline(
                [(-13.4034524292, 20.1185808677), (-13.6632532189, 19.5761416352), (-13.8838117808, 19.029618166), (-14.069044194, 18.4672502987)],
                knots=[0.5051593971, 0.5051593971, 0.5051593971, 0.5051593971, 0.5582363622, 0.5582363622, 0.5582363622, 0.5582363622], degree=3))
            Line((-14.069044194, 18.4672502987), (-2.5490200479, 14.3458383047))
            Line((-2.5490200479, 14.3458383047), (-0.7028685605, 13.1410918814))
            Line((-0.7028685605, 13.1410918814), (0, 15.4193050729))
            Line((0, 15.4193050729), (-1.948548289, 16.0204662531))
        make_face()
    extrude(amount=-F3_DEPTH)


with BuildPart() as f5:
    # F4 (on Front) → F5 (new body)
    with BuildSketch(Plane.XZ):
        with Locations((-20.9328643978, 22.3543141037)):
            Circle(F4_R)
    extrude(amount=-F5_DEPTH)


solid = Compound([f2.part, f2b.part, f3.part, f5.part])
